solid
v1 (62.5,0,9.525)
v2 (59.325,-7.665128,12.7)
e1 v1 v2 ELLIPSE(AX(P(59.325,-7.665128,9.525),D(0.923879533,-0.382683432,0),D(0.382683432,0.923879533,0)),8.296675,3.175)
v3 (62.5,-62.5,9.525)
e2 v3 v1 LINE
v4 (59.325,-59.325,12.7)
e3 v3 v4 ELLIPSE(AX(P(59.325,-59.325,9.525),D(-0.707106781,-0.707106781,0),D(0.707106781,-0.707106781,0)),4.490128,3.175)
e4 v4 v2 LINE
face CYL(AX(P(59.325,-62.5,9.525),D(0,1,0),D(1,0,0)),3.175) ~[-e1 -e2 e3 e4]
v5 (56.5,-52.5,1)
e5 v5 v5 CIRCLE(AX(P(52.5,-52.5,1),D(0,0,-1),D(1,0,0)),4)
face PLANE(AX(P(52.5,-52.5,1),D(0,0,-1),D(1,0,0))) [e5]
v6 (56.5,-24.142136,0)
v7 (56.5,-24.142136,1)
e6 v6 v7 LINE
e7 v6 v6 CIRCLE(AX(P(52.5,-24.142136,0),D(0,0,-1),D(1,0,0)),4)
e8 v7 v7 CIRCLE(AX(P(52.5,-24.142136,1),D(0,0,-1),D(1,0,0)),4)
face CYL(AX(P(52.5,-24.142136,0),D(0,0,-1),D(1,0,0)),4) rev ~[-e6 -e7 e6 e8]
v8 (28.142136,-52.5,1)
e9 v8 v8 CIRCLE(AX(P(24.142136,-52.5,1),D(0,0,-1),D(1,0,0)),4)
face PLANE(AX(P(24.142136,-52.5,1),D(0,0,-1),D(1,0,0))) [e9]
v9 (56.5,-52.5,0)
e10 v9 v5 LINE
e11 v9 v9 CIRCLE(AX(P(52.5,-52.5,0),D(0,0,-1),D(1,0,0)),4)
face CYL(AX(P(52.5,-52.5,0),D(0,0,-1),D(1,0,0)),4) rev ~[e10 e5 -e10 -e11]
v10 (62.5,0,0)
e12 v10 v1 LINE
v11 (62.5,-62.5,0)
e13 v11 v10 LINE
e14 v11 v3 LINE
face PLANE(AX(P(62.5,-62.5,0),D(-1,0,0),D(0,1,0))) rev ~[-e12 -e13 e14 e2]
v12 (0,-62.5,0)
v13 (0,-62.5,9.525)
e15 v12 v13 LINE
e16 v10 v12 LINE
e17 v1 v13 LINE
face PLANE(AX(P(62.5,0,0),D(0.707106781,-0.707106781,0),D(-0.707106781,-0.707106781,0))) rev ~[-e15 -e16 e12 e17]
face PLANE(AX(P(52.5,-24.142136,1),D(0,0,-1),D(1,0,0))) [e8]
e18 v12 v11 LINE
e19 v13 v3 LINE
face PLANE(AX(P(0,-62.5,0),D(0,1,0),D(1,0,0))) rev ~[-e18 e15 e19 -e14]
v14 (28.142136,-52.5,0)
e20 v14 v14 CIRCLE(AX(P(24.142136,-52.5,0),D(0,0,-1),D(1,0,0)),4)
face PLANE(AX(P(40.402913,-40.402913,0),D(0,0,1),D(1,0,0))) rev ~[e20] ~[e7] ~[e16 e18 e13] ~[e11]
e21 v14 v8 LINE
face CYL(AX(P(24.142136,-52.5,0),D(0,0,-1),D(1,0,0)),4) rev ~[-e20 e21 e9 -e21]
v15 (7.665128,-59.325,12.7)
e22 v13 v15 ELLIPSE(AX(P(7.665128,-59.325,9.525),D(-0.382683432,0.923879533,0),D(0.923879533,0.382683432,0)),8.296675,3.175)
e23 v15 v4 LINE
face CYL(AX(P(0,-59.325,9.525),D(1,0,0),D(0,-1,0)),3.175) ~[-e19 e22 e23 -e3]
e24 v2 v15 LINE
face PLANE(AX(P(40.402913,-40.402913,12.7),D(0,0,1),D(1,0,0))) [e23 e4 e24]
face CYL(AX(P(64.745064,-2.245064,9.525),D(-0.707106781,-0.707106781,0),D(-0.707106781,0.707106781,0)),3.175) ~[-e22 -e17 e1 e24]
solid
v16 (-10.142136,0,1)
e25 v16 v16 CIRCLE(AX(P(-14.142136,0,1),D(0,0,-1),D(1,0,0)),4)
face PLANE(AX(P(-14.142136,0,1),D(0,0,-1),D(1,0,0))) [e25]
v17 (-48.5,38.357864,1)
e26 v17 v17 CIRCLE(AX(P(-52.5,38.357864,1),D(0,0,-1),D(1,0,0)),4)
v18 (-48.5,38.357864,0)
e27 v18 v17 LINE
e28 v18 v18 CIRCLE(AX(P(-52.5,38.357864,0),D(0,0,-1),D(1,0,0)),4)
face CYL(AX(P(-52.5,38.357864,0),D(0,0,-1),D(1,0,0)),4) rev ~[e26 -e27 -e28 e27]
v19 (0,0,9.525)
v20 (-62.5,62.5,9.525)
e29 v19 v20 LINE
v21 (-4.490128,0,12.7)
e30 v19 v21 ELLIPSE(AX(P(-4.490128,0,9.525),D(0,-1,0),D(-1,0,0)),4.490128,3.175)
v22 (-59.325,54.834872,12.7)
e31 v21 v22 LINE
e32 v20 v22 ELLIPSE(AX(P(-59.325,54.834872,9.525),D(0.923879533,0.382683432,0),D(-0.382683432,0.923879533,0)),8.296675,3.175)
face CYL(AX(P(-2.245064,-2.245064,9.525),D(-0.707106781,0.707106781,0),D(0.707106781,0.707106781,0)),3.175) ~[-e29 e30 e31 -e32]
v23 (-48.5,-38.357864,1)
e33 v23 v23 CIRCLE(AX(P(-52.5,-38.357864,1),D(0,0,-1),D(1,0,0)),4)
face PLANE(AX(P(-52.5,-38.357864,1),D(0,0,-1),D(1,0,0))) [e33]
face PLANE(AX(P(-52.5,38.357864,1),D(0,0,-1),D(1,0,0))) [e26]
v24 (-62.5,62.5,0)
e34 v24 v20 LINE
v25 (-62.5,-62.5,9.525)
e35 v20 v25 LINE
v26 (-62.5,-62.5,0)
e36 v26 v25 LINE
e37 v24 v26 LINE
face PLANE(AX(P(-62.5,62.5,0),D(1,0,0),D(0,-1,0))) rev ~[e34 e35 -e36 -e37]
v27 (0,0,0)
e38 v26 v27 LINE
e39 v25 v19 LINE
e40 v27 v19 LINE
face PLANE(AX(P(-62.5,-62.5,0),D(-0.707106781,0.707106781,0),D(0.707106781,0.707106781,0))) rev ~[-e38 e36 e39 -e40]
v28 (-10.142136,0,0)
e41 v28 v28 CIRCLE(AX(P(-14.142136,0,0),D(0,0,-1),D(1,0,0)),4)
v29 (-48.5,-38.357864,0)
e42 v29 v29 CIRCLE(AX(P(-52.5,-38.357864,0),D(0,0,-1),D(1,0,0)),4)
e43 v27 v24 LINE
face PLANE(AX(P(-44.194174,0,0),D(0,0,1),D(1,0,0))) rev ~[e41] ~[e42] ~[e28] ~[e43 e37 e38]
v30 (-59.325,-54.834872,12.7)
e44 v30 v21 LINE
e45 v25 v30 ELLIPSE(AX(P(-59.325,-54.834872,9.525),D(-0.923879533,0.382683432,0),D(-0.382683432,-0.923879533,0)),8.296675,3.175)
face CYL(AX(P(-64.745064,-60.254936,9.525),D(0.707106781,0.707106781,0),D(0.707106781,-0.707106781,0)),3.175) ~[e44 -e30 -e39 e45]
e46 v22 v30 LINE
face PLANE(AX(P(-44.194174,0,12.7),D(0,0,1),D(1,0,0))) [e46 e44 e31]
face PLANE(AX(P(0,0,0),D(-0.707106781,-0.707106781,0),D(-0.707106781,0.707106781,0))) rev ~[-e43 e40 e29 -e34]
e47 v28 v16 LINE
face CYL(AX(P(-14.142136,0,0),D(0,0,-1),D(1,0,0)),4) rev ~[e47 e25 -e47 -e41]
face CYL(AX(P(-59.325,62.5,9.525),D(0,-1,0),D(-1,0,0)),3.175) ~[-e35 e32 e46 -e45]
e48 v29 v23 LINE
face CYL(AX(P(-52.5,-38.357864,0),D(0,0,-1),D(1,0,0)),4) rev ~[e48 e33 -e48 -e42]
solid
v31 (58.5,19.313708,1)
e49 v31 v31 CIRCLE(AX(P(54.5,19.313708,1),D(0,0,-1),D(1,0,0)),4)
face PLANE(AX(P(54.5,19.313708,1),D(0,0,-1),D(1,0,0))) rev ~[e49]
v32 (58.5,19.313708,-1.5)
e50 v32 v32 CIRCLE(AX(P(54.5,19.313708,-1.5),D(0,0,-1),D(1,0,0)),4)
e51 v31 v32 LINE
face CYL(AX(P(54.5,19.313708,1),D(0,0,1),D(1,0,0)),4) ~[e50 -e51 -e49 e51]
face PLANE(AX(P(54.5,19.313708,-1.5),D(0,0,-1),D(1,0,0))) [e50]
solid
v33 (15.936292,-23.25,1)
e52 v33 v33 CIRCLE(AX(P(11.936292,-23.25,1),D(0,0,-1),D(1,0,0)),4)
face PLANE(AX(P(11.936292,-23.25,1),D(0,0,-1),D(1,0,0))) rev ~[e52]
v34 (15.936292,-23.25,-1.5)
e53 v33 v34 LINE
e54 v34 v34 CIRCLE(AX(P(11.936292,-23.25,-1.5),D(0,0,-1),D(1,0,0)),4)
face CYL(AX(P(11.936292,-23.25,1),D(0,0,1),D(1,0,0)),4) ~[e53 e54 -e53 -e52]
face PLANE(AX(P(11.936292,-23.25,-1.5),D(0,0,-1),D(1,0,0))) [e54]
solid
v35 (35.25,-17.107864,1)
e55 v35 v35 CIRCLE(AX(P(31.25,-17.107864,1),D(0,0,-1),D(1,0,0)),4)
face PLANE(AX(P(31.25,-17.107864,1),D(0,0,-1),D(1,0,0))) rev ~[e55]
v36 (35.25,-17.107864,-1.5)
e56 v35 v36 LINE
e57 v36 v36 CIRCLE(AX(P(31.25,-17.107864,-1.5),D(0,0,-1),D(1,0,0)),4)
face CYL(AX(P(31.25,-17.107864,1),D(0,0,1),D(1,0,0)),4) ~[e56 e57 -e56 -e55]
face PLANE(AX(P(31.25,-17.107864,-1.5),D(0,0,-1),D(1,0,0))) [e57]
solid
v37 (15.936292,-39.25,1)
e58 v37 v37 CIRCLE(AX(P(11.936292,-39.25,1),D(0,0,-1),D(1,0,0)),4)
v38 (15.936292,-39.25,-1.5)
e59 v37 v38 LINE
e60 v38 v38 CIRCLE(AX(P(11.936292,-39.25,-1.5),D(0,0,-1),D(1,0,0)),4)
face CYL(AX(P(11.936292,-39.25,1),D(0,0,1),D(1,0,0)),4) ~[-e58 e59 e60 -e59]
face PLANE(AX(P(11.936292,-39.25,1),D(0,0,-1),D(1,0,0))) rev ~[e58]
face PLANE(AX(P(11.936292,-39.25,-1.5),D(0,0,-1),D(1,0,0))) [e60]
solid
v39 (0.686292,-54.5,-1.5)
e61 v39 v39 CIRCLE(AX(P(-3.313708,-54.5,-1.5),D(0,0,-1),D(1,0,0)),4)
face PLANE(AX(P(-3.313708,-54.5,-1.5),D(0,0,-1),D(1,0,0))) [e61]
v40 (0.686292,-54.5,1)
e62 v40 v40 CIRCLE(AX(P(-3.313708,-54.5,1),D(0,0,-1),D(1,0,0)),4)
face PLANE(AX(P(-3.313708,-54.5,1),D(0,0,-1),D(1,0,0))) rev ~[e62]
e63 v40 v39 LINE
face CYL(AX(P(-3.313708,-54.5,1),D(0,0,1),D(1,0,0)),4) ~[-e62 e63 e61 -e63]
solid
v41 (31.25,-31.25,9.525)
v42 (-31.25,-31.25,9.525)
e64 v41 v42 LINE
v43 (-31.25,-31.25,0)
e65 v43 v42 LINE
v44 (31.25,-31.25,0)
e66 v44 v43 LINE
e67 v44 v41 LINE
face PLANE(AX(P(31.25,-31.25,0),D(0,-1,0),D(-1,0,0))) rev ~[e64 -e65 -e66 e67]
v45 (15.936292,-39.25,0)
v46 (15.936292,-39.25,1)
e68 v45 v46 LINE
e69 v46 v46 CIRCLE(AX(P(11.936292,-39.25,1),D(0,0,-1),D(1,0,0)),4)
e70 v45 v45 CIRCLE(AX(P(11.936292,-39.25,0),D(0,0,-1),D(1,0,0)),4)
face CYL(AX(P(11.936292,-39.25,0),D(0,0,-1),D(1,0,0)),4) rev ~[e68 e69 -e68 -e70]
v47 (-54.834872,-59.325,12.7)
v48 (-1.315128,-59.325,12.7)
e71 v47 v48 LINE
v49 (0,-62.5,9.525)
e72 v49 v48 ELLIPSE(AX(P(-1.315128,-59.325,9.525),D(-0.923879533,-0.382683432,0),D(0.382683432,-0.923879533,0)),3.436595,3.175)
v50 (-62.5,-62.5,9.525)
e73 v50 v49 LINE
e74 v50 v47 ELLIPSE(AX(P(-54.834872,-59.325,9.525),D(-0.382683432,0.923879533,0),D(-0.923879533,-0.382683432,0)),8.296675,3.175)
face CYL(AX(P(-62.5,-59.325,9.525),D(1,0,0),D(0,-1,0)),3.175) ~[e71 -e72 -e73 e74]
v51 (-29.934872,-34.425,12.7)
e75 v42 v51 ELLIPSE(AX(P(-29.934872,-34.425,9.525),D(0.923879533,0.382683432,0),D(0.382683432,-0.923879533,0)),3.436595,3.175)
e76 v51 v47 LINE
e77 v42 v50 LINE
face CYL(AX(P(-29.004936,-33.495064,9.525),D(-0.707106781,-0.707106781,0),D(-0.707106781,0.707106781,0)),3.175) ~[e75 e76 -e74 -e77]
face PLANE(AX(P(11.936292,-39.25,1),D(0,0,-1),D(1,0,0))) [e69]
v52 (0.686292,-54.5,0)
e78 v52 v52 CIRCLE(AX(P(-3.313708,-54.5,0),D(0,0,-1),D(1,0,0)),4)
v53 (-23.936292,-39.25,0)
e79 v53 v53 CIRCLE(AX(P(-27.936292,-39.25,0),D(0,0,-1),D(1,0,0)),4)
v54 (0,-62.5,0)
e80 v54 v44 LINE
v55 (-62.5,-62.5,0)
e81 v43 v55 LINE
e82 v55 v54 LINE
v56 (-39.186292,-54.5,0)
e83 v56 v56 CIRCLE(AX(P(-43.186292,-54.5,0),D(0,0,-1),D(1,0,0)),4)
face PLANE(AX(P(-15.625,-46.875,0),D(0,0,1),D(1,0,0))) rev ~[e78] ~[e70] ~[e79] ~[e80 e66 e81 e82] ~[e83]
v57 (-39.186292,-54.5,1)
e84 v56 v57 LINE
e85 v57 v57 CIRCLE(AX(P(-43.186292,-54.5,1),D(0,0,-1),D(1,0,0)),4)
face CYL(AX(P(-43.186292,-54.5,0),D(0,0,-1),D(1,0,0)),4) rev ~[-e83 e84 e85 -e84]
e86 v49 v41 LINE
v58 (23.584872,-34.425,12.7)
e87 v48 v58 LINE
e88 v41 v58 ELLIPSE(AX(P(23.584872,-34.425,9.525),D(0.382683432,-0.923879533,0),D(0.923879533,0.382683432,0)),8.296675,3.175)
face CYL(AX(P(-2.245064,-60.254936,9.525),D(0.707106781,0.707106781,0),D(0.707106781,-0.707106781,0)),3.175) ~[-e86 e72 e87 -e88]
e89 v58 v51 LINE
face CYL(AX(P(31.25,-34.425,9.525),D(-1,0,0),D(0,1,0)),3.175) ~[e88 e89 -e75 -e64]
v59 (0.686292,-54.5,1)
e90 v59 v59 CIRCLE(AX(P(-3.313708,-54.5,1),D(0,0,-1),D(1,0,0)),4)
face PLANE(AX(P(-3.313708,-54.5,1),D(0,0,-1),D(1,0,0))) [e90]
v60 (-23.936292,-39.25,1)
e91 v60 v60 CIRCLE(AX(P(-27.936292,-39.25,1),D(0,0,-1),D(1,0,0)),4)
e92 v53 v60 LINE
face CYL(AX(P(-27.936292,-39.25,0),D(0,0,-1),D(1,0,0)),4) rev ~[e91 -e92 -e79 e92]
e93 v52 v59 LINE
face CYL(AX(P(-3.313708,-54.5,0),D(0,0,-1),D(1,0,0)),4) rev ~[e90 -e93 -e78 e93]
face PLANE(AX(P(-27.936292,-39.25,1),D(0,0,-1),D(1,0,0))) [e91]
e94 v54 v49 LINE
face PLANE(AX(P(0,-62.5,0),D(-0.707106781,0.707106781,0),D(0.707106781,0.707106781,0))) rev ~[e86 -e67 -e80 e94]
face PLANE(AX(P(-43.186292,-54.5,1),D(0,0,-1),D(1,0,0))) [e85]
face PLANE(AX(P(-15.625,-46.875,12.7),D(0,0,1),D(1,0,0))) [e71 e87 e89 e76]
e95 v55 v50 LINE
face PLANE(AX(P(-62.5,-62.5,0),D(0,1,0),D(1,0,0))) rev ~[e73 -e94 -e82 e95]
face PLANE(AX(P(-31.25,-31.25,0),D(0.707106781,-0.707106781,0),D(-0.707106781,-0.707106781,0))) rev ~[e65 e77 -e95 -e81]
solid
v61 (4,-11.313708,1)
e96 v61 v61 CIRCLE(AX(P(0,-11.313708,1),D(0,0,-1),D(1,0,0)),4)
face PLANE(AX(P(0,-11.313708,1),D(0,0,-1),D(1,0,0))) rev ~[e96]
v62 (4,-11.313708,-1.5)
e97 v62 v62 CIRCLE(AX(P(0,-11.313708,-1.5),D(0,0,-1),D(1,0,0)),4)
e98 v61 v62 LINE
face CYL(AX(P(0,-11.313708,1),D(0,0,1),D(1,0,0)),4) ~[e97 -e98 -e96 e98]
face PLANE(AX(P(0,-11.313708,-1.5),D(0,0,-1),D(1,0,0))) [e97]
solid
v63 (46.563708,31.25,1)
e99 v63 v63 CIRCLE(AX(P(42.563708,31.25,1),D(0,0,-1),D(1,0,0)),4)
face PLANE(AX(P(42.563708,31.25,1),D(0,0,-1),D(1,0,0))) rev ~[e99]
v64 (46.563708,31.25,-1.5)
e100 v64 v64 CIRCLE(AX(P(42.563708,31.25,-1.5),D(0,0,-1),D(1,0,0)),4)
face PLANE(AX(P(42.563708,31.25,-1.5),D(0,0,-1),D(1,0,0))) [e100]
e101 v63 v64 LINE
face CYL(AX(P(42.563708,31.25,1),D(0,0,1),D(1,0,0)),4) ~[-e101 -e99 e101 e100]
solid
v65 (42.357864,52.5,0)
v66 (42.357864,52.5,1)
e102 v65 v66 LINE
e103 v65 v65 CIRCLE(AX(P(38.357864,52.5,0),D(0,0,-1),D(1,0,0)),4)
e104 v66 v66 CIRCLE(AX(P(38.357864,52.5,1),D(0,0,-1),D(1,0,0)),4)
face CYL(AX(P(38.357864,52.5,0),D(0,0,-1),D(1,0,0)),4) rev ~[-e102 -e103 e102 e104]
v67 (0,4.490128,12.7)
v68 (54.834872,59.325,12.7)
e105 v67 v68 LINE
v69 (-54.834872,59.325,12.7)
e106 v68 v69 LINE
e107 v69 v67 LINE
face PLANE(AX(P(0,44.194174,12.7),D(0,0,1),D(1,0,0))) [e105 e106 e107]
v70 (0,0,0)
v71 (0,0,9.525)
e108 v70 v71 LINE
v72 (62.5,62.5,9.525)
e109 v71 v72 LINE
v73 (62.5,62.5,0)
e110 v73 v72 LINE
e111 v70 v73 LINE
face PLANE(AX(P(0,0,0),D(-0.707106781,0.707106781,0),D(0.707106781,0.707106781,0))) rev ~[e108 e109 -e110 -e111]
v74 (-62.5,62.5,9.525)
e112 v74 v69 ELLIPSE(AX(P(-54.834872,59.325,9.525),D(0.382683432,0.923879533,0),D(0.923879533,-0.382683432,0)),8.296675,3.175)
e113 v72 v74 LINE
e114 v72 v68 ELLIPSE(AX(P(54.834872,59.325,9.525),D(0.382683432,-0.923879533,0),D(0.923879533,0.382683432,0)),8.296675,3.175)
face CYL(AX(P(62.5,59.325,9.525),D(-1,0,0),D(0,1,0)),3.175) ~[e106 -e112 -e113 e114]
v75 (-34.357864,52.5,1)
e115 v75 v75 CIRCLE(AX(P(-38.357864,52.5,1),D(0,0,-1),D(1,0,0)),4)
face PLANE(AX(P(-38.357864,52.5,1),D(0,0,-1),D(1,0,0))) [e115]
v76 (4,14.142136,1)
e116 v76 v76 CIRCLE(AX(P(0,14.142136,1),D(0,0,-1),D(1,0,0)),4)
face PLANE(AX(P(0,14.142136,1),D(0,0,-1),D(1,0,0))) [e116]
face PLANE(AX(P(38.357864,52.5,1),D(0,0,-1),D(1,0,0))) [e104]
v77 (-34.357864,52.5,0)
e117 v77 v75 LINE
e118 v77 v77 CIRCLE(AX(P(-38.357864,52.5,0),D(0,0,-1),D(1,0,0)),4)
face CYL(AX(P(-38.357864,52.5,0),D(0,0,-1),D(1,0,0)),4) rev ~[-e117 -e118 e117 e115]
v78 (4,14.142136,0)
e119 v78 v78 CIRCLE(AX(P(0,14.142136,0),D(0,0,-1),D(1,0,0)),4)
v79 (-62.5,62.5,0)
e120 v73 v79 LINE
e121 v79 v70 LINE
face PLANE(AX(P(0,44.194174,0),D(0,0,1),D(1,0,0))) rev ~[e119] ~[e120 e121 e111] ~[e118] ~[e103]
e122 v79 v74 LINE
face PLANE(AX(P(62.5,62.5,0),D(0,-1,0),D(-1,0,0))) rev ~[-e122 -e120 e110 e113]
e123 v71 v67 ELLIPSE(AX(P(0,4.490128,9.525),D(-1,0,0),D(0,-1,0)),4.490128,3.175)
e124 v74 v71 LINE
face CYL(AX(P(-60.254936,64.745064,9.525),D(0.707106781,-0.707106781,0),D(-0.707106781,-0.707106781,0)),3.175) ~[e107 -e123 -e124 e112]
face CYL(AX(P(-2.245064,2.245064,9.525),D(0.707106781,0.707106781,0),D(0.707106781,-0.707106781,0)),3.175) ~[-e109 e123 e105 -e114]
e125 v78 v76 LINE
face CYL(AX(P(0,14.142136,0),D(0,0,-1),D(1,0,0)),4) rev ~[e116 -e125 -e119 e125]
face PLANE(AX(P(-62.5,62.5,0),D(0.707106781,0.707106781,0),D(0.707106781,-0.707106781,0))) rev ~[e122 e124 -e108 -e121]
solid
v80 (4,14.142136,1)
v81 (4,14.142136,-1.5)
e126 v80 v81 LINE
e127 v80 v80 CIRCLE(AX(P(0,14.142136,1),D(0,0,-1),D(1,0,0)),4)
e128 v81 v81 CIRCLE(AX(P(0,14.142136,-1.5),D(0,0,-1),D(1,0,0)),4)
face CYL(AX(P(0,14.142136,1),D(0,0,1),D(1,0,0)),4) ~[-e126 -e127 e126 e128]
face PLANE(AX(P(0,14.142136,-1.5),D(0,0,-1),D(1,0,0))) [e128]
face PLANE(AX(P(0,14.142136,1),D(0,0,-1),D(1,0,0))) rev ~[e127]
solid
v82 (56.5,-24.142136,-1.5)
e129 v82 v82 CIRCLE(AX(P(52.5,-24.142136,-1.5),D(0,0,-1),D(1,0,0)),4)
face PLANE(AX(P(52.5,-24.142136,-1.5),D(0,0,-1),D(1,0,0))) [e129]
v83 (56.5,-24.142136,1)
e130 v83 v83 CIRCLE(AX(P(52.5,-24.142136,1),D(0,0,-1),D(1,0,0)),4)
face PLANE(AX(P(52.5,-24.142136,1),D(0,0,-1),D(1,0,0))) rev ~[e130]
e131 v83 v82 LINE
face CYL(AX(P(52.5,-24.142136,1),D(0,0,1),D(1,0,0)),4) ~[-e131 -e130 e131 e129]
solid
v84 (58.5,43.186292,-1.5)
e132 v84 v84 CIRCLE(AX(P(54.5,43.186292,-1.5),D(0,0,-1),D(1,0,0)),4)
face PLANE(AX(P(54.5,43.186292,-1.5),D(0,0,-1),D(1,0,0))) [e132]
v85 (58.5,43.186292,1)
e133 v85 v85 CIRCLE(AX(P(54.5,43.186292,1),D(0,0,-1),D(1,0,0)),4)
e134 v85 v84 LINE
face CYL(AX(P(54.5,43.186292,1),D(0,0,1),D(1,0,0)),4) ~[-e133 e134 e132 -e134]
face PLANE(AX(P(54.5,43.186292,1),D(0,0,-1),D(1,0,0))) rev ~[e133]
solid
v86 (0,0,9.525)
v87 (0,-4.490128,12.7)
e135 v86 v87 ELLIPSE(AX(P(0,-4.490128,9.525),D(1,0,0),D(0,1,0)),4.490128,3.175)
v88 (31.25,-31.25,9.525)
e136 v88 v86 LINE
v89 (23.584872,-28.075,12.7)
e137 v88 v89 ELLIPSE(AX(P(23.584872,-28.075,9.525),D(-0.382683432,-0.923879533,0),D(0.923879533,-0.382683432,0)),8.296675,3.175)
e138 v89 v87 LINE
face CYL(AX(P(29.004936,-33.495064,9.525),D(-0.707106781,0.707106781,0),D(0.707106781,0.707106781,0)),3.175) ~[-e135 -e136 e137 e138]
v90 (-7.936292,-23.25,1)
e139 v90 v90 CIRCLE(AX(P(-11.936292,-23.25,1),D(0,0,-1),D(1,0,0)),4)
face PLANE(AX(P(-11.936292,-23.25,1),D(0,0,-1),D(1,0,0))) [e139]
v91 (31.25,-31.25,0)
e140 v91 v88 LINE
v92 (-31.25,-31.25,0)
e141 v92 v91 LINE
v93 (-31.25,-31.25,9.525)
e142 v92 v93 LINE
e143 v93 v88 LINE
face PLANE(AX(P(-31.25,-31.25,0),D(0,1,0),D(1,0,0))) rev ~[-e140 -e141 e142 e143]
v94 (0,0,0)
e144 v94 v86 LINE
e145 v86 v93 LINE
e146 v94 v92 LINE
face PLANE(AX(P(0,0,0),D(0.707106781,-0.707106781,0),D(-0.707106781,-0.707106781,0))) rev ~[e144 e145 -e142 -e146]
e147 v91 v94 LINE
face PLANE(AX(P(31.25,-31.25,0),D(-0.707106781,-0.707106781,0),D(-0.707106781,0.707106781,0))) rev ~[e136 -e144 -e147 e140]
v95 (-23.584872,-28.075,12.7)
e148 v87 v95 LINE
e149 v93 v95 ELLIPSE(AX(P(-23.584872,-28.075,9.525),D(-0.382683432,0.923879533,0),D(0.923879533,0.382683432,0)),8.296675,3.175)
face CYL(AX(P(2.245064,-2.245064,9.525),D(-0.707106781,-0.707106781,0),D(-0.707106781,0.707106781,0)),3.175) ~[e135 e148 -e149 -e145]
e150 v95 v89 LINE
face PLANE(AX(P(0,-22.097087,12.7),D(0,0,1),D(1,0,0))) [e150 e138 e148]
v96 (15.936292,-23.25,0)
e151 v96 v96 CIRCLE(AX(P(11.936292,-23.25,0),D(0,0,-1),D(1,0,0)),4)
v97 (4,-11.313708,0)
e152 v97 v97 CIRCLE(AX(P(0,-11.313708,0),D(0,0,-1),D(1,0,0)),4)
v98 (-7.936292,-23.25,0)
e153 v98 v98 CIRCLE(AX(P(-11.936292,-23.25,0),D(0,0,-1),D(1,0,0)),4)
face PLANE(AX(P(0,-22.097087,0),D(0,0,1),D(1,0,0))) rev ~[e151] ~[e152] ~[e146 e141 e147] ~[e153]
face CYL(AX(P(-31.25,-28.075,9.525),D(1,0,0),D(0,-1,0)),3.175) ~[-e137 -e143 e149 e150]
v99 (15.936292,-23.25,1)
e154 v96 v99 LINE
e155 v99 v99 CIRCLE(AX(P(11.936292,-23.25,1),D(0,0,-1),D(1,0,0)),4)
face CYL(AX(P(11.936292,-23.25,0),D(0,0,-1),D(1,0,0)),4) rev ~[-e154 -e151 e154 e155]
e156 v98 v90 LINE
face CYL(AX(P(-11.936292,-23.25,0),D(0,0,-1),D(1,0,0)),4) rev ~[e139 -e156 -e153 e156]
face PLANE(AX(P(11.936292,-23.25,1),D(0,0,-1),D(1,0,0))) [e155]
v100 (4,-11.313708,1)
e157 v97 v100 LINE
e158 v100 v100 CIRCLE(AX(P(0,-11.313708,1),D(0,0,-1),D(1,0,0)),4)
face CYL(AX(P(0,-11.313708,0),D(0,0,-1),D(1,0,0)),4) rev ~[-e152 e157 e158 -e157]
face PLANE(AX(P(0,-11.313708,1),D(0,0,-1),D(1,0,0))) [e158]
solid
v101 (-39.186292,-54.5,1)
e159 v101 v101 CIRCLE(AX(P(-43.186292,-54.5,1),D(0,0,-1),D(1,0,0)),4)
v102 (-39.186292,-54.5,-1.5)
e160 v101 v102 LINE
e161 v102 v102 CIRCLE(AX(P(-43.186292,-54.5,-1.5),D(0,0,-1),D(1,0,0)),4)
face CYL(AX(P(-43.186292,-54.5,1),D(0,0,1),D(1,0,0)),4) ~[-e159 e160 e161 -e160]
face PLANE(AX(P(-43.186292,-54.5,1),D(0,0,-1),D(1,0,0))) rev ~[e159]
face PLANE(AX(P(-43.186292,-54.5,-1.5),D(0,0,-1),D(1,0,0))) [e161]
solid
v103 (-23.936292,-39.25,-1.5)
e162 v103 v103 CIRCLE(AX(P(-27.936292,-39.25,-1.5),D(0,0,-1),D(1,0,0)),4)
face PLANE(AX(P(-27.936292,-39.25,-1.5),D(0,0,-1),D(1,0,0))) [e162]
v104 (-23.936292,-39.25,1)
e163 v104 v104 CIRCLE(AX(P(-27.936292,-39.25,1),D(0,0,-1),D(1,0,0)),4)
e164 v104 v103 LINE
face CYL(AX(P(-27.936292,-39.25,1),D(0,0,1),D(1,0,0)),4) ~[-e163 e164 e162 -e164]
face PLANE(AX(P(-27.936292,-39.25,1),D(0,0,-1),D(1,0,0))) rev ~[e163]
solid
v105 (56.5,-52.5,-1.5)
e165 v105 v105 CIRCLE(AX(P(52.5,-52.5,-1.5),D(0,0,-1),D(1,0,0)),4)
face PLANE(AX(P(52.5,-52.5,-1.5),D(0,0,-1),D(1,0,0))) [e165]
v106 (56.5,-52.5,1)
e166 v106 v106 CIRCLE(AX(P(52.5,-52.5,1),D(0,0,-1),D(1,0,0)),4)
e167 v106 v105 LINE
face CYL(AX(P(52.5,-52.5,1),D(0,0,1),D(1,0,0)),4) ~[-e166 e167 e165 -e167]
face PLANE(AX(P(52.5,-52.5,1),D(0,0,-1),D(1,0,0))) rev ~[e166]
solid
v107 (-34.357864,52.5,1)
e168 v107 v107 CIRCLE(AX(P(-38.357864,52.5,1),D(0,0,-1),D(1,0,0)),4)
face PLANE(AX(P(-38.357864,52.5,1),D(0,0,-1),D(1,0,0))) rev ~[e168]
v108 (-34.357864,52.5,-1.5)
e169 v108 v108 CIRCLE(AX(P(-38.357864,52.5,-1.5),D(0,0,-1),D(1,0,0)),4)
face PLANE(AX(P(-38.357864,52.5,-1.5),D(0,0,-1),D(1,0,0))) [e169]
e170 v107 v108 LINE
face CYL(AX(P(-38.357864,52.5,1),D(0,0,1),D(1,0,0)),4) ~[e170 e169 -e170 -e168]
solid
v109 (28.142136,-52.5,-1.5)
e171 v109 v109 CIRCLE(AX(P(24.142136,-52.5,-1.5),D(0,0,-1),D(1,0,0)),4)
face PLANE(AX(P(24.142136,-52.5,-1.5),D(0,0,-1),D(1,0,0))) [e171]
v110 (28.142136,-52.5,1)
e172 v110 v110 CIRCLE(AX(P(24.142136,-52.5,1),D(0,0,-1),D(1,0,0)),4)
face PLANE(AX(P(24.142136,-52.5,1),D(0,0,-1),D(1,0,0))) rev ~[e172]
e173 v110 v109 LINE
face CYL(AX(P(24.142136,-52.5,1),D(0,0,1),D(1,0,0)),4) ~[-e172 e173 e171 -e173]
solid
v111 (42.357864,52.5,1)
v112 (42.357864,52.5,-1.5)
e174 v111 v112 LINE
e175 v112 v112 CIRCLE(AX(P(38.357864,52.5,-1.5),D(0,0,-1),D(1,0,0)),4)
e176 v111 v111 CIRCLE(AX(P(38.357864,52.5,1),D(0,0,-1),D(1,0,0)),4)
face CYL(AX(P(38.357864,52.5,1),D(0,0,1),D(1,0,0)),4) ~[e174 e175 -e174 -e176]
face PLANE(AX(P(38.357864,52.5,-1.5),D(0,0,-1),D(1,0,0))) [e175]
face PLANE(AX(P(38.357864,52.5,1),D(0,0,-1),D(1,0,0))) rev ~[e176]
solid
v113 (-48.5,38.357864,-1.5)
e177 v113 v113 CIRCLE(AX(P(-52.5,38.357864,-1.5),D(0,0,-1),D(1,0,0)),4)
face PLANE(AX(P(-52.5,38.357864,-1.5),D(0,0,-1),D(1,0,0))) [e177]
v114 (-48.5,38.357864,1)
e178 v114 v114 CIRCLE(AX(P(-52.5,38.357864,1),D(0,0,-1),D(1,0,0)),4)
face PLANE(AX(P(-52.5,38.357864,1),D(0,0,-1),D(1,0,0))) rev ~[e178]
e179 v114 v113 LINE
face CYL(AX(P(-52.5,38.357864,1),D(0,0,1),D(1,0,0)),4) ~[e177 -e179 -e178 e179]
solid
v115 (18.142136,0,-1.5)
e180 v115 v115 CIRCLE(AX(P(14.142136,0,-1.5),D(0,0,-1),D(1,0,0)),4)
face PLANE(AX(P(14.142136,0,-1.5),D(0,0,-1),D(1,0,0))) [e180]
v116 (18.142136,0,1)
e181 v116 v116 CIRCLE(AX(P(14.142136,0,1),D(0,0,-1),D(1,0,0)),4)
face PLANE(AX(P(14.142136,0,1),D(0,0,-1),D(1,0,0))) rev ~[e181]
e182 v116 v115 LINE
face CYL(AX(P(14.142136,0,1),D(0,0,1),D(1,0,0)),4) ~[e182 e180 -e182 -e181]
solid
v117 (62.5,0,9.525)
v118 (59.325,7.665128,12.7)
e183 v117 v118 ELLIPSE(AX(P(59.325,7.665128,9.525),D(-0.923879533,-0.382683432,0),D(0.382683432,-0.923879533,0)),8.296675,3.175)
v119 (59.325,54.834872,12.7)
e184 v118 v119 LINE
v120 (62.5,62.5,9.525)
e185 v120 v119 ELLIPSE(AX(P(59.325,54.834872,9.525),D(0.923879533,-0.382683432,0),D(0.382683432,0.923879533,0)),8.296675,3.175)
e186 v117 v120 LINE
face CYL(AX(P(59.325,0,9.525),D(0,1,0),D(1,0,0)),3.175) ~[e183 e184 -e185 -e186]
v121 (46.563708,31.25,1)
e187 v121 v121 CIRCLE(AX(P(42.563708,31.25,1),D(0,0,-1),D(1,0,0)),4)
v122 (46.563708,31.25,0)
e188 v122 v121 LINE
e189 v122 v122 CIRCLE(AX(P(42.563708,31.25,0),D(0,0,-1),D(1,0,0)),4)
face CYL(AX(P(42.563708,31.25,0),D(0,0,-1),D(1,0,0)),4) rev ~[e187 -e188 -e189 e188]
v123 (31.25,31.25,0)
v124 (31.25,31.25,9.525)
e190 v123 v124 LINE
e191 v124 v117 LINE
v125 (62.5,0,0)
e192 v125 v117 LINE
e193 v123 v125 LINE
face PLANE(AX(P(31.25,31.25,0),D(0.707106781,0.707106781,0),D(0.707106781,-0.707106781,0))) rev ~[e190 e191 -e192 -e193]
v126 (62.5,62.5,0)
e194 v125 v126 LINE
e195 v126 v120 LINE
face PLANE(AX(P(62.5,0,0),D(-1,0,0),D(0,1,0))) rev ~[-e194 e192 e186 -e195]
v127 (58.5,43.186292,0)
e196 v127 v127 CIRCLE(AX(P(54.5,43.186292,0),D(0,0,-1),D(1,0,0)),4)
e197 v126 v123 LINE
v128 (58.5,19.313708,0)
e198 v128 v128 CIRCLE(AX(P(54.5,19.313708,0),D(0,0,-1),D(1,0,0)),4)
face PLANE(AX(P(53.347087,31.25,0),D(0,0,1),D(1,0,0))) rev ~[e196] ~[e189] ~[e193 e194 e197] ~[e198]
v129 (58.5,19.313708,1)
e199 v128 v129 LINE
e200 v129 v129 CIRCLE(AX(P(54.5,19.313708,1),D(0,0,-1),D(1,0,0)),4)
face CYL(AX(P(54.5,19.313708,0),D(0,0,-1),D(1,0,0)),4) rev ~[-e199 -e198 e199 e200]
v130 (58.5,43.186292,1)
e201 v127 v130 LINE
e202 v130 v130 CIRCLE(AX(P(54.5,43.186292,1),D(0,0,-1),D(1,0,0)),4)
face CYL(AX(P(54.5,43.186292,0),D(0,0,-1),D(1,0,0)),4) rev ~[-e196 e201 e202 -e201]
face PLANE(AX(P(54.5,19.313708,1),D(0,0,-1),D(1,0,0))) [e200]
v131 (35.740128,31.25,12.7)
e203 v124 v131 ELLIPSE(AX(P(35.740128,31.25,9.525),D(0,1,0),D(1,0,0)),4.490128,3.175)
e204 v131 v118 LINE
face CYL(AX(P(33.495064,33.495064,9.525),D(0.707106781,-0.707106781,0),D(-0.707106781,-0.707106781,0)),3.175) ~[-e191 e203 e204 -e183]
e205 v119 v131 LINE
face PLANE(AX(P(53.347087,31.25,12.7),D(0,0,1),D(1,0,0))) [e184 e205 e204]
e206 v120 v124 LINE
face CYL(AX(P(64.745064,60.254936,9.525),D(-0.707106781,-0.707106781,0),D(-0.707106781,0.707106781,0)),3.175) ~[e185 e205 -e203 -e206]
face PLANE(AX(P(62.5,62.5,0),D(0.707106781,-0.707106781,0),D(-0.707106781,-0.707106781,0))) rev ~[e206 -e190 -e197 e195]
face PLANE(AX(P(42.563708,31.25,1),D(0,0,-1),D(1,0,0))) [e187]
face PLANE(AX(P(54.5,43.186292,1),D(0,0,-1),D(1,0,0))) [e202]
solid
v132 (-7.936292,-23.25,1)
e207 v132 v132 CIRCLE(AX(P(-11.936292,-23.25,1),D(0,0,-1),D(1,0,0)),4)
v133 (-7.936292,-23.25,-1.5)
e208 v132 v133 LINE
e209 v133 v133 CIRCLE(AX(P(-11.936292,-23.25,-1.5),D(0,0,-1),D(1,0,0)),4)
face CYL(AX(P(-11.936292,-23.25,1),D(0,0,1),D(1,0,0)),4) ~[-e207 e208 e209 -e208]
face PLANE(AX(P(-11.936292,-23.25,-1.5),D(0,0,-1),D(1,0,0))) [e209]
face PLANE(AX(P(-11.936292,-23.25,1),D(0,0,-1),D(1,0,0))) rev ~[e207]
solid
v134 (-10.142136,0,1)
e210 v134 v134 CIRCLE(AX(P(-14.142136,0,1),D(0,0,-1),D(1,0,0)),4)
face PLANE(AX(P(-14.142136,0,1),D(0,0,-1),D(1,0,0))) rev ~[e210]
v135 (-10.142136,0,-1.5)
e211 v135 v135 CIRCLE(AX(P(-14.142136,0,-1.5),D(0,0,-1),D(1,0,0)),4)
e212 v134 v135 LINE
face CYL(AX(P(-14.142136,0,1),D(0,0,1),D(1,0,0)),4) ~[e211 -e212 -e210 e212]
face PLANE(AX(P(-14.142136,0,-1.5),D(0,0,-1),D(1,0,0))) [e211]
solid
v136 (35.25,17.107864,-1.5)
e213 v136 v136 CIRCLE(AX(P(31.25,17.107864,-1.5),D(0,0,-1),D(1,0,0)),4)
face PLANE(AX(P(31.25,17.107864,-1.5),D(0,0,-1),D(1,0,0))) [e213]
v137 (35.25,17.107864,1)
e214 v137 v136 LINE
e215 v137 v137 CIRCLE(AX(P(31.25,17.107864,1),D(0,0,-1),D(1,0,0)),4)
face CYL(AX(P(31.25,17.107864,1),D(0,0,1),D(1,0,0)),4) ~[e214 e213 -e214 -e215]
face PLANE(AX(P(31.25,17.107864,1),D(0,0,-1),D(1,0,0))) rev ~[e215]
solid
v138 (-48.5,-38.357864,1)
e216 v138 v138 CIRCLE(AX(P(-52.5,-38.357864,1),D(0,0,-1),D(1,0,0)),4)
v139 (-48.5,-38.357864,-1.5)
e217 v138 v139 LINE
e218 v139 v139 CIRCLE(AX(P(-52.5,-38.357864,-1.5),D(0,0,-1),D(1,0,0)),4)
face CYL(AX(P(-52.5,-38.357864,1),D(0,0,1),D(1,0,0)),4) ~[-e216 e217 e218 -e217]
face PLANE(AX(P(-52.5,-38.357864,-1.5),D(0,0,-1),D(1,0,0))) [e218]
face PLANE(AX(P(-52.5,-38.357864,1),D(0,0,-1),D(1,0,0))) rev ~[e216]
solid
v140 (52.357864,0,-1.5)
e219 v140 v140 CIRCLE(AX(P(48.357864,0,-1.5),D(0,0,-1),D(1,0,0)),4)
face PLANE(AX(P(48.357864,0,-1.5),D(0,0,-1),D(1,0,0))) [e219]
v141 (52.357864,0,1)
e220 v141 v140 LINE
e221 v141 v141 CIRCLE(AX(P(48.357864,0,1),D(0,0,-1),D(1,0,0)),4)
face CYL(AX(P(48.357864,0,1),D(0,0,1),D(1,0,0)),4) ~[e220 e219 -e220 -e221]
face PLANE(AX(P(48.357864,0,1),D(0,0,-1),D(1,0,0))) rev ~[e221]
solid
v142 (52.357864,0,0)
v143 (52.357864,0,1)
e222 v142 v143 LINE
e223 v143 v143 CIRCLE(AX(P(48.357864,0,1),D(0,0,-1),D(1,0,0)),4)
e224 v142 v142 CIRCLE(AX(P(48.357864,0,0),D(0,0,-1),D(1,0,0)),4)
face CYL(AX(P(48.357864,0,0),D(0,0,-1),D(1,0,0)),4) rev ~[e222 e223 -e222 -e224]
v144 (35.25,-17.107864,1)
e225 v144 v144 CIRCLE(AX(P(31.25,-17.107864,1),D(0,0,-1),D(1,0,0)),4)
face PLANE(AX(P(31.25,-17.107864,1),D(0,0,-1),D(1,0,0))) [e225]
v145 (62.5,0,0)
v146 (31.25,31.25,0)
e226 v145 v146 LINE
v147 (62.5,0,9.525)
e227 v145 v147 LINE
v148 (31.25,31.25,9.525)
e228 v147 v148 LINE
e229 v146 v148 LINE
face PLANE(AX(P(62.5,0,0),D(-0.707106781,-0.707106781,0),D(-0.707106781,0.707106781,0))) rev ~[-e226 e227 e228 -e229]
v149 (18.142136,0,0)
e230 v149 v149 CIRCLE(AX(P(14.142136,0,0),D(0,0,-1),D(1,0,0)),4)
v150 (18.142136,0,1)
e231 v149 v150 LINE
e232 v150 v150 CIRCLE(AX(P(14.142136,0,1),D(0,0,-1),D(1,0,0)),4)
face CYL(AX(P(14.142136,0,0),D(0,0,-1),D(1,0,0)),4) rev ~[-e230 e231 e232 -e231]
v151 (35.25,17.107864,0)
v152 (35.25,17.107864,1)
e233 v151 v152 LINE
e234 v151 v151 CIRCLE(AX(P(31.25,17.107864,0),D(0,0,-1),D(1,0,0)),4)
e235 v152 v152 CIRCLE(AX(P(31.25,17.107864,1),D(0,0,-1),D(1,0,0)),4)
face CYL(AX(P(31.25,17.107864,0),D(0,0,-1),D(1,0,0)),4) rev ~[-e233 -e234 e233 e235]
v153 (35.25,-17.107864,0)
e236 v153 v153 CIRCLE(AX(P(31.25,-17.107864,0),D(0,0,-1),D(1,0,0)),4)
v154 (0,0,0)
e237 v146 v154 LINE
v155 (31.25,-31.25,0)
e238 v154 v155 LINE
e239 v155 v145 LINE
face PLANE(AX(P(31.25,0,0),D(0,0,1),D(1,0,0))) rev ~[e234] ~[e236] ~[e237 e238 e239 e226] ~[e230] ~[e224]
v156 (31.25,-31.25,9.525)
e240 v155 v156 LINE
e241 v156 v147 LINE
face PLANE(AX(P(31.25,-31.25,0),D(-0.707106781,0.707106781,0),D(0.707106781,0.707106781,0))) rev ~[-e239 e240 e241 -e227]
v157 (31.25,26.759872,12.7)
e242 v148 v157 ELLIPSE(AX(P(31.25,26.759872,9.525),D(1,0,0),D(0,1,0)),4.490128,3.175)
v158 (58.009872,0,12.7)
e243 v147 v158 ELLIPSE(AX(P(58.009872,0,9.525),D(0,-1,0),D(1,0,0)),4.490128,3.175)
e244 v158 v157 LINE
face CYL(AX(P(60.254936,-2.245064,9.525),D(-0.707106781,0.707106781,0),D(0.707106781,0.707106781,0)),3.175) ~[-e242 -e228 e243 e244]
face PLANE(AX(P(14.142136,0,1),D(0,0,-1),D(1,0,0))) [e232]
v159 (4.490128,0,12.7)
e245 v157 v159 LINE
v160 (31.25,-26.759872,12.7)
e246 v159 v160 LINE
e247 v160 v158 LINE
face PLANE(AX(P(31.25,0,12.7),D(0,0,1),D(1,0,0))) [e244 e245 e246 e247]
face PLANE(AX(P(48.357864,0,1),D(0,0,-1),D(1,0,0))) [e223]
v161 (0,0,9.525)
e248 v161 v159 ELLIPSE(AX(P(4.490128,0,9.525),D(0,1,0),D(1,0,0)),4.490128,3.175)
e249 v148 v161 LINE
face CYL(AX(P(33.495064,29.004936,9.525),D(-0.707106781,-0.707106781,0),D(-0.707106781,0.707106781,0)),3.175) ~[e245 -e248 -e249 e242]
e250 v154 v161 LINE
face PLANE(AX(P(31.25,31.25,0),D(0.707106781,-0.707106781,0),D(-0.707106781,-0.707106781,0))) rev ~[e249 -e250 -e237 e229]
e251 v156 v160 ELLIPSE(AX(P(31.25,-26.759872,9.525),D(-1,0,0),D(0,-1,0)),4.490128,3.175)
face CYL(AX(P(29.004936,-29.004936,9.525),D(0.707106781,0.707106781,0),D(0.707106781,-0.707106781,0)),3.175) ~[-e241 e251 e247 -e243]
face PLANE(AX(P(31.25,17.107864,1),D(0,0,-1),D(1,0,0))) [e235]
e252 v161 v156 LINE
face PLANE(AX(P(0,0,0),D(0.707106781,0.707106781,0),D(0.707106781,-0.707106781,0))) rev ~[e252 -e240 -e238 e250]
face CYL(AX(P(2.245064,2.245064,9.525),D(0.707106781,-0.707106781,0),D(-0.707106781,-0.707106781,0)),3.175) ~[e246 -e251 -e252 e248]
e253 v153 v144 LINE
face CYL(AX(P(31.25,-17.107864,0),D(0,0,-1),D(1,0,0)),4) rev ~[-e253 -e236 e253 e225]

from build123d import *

# Parameters (mm, degrees)
F1_DEPTH  = 12.7
F2_DEPTH  = 12.7
F3_DEPTH  = 12.7
F4_DEPTH  = 12.7
F5_DEPTH  = 12.7
F6_DEPTH  = 12.7
F7_DEPTH  = 12.7
F8_R      = 3.175
F8_2_R    = 3.175
F8_3_R    = 3.175
F8_4_R    = 3.175
F8_5_R    = 3.175
F8_6_R    = 3.175
F8_7_R    = 3.175
F12_R     = 4
F16_DEPTH = 1
F9_R      = 4
F17_DEPTH = 1
F15_R     = 4
F18_DEPTH = 1
F10_R     = 4
F19_DEPTH = 1
F11_R     = 4
F20_DEPTH = 1
F14_R     = 4
F21_DEPTH = 1
F13_R     = 4
F22_DEPTH = 1
F23_DEPTH = 2.5


with BuildPart() as f1:
    # F0 (on Top) → F1 (new body)
    with BuildSketch(Plane.XY):
        Polygon((-62.5, 62.5), (-62.5, -62.5), (-31.25, -31.25), (0, 0), align=None)
    extrude(amount=F1_DEPTH)

    # F8
    f8_edges = [f1.edges().sort_by_distance(p)[0] for p in [
        (-31.25, 31.25, 12.7),
        (-62.5, 0, 12.7),
        (-31.25, -31.25, 12.7),
    ]]
    fillet(f8_edges, radius=F8_R)

    # F12 (on face) → F16 (cut)
    with BuildSketch(Plane(origin=(0, 0, 0), x_dir=(1, 0, 0), z_dir=(0, 0, -1))):
        with Locations((-52.5, 38.3578643763)):
            Circle(F12_R)
        with Locations((-14.1421356237, 0)):
            Circle(F12_R)
        with Locations((-52.5, -38.3578643763)):
            Circle(F12_R)
    extrude(amount=-F16_DEPTH, mode=Mode.SUBTRACT)


with BuildPart() as f2:
    # F0 (on Top) → F2 (new body)
    with BuildSketch(Plane.XY):
        Polygon((31.25, 31.25), (62.5, 62.5), (-62.5, 62.5), (0, 0), align=None)
    extrude(amount=F2_DEPTH)

    # F8#2
    f8_2_edges = [f2.edges().sort_by_distance(p)[0] for p in [
        (-31.25, 31.25, 12.7),
        (31.25, 31.25, 12.7),
        (0, 62.5, 12.7),
    ]]
    fillet(f8_2_edges, radius=F8_2_R)

    # F9 (on face) → F17 (cut)
    with BuildSketch(Plane(origin=(0, 0, 0), x_dir=(1, 0, 0), z_dir=(0, 0, -1))):
        with Locations((0, -14.1421356237)):
            Circle(F9_R)
        with Locations((-38.3578643763, -52.5)):
            Circle(F9_R)
        with Locations((38.3578643763, -52.5)):
            Circle(F9_R)
    extrude(amount=-F17_DEPTH, mode=Mode.SUBTRACT)


with BuildPart() as f3:
    # F0 (on Top) → F3 (new body)
    with BuildSketch(Plane.XY):
        Polygon((-62.5, -62.5), (0, -62.5), (31.25, -31.25), (-31.25, -31.25), align=None)
    extrude(amount=F3_DEPTH)

    # F8#3
    f8_3_edges = [f3.edges().sort_by_distance(p)[0] for p in [
        (-46.875, -46.875, 12.7),
        (-31.25, -62.5, 12.7),
        (15.625, -46.875, 12.7),
        (0, -31.25, 12.7),
    ]]
    fillet(f8_3_edges, radius=F8_3_R)

    # F14 (on face) → F21 (cut)
    with BuildSketch(Plane(origin=(0, 0, 0), x_dir=(1, 0, 0), z_dir=(0, 0, -1))):
        with Locations((-27.936291501, 39.25)):
            Circle(F14_R)
        with Locations((-43.186291501, 54.5)):
            Circle(F14_R)
        with Locations((-3.313708499, 54.5)):
            Circle(F14_R)
        with Locations((11.936291501, 39.25)):
            Circle(F14_R)
    extrude(amount=-F21_DEPTH, mode=Mode.SUBTRACT)


with BuildPart() as f4:
    # F0 (on Top) → F4 (new body)
    with BuildSketch(Plane.XY):
        Polygon((-31.25, -31.25), (31.25, -31.25), (0, 0), align=None)
    extrude(amount=F4_DEPTH)

    # F8#4
    f8_4_edges = [f4.edges().sort_by_distance(p)[0] for p in [
        (0, -31.25, 12.7),
        (15.625, -15.625, 12.7),
        (-15.625, -15.625, 12.7),
    ]]
    fillet(f8_4_edges, radius=F8_4_R)

    # F11 (on face) → F20 (cut)
    with BuildSketch(Plane(origin=(0, 0, 0), x_dir=(1, 0, 0), z_dir=(0, 0, -1))):
        with Locations((-11.936291501, 23.25)):
            Circle(F11_R)
        with Locations((0, 11.313708499)):
            Circle(F11_R)
        with Locations((11.936291501, 23.25)):
            Circle(F11_R)
    extrude(amount=-F20_DEPTH, mode=Mode.SUBTRACT)


with BuildPart() as f5:
    # F0 (on Top) → F5 (new body)
    with BuildSketch(Plane.XY):
        Polygon((31.25, -31.25), (62.5, 0), (31.25, 31.25), (0, 0), align=None)
    extrude(amount=F5_DEPTH)

    # F8#5
    f8_5_edges = [f5.edges().sort_by_distance(p)[0] for p in [
        (15.625, -15.625, 12.7),
        (46.875, -15.625, 12.7),
        (46.875, 15.625, 12.7),
        (15.625, 15.625, 12.7),
    ]]
    fillet(f8_5_edges, radius=F8_5_R)

    # F10 (on face) → F19 (cut)
    with BuildSketch(Plane(origin=(0, 0, 0), x_dir=(1, 0, 0), z_dir=(0, 0, -1))):
        with Locations((14.1421356237, 0)):
            Circle(F10_R)
        with Locations((31.25, 17.1078643763)):
            Circle(F10_R)
        with Locations((48.3578643763, 0)):
            Circle(F10_R)
        with Locations((31.25, -17.1078643763)):
            Circle(F10_R)
    extrude(amount=-F19_DEPTH, mode=Mode.SUBTRACT)


with BuildPart() as f6:
    # F0 (on Top) → F6 (new body)
    with BuildSketch(Plane.XY):
        Polygon((0, -62.5), (62.5, -62.5), (62.5, 0), (31.25, -31.25), align=None)
    extrude(amount=F6_DEPTH)

    # F8#6
    f8_6_edges = [f6.edges().sort_by_distance(p)[0] for p in [
        (31.25, -62.5, 12.7),
        (62.5, -31.25, 12.7),
        (31.25, -31.25, 12.7),
    ]]
    fillet(f8_6_edges, radius=F8_6_R)

    # F13 (on face) → F22 (cut)
    with BuildSketch(Plane(origin=(0, 0, 0), x_dir=(1, 0, 0), z_dir=(0, 0, -1))):
        with Locations((24.1421356237, 52.5)):
            Circle(F13_R)
        with Locations((52.5, 52.5)):
            Circle(F13_R)
        with Locations((52.5, 24.1421356237)):
            Circle(F13_R)
    extrude(amount=-F22_DEPTH, mode=Mode.SUBTRACT)


with BuildPart() as f7:
    # F0 (on Top) → F7 (new body)
    with BuildSketch(Plane.XY):
        Polygon((31.25, 31.25), (62.5, 0), (62.5, 62.5), align=None)
    extrude(amount=F7_DEPTH)

    # F8#7
    f8_7_edges = [f7.edges().sort_by_distance(p)[0] for p in [
        (46.875, 15.625, 12.7),
        (62.5, 31.25, 12.7),
        (46.875, 46.875, 12.7),
    ]]
    fillet(f8_7_edges, radius=F8_7_R)

    # F15 (on face) → F18 (cut)
    with BuildSketch(Plane(origin=(0, 0, 0), x_dir=(1, 0, 0), z_dir=(0, 0, -1))):
        with Locations((42.563708499, -31.25)):
            Circle(F15_R)
        with Locations((54.5, -19.313708499)):
            Circle(F15_R)
        with Locations((54.5, -43.186291501)):
            Circle(F15_R)
    extrude(amount=-F18_DEPTH, mode=Mode.SUBTRACT)


with BuildPart() as f23:
    # F23 (new): a face of the model
    f23_faces = [f1.part.faces().sort_by_distance(p)[0] for p in [
        (-52.5, -38.3578643763, 1),
    ]]
    extrude(f23_faces, amount=F23_DEPTH)


with BuildPart() as f23b:
    # F23#2 (new): a face of the model
    f23_2_faces = [f1.part.faces().sort_by_distance(p)[0] for p in [
        (-14.1421356237, 0, 1),
    ]]
    extrude(f23_2_faces, amount=F23_DEPTH)


with BuildPart() as f23c:
    # F23#3 (new): a face of the model
    f23_3_faces = [f1.part.faces().sort_by_distance(p)[0] for p in [
        (-52.5, 38.3578643763, 1),
    ]]
    extrude(f23_3_faces, amount=F23_DEPTH)


with BuildPart() as f23d:
    # F23#4 (new): a face of the model
    f23_4_faces = [f2.part.faces().sort_by_distance(p)[0] for p in [
        (-38.3578643763, 52.5, 1),
    ]]
    extrude(f23_4_faces, amount=F23_DEPTH)


with BuildPart() as f23e:
    # F23#5 (new): a face of the model
    f23_5_faces = [f2.part.faces().sort_by_distance(p)[0] for p in [
        (0, 14.1421356237, 1),
    ]]
    extrude(f23_5_faces, amount=F23_DEPTH)


with BuildPart() as f23f:
    # F23#6 (new): a face of the model
    f23_6_faces = [f2.part.faces().sort_by_distance(p)[0] for p in [
        (38.3578643763, 52.5, 1),
    ]]
    extrude(f23_6_faces, amount=F23_DEPTH)


with BuildPart() as f23g:
    # F23#7 (new): a face of the model
    f23_7_faces = [f7.part.faces().sort_by_distance(p)[0] for p in [
        (54.5, 43.186291501, 1),
    ]]
    extrude(f23_7_faces, amount=F23_DEPTH)


with BuildPart() as f23h:
    # F23#8 (new): a face of the model
    f23_8_faces = [f7.part.faces().sort_by_distance(p)[0] for p in [
        (42.563708499, 31.25, 1),
    ]]
    extrude(f23_8_faces, amount=F23_DEPTH)


with BuildPart() as f23i:
    # F23#9 (new): a face of the model
    f23_9_faces = [f7.part.faces().sort_by_distance(p)[0] for p in [
        (54.5, 19.313708499, 1),
    ]]
    extrude(f23_9_faces, amount=F23_DEPTH)


with BuildPart() as f23j:
    # F23#10 (new): a face of the model
    f23_10_faces = [f5.part.faces().sort_by_distance(p)[0] for p in [
        (48.3578643763, 0, 1),
    ]]
    extrude(f23_10_faces, amount=F23_DEPTH)


with BuildPart() as f23k:
    # F23#11 (new): a face of the model
    f23_11_faces = [f5.part.faces().sort_by_distance(p)[0] for p in [
        (31.25, 17.1078643763, 1),
    ]]
    extrude(f23_11_faces, amount=F23_DEPTH)


with BuildPart() as f23l:
    # F23#12 (new): a face of the model
    f23_12_faces = [f5.part.faces().sort_by_distance(p)[0] for p in [
        (14.1421356237, 0, 1),
    ]]
    extrude(f23_12_faces, amount=F23_DEPTH)


with BuildPart() as f23m:
    # F23#13 (new): a face of the model
    f23_13_faces = [f5.part.faces().sort_by_distance(p)[0] for p in [
        (31.25, -17.1078643763, 1),
    ]]
    extrude(f23_13_faces, amount=F23_DEPTH)


with BuildPart() as f23n:
    # F23#14 (new): a face of the model
    f23_14_faces = [f6.part.faces().sort_by_distance(p)[0] for p in [
        (52.5, -24.1421356237, 1),
    ]]
    extrude(f23_14_faces, amount=F23_DEPTH)


with BuildPart() as f23o:
    # F23#15 (new): a face of the model
    f23_15_faces = [f6.part.faces().sort_by_distance(p)[0] for p in [
        (52.5, -52.5, 1),
    ]]
    extrude(f23_15_faces, amount=F23_DEPTH)


with BuildPart() as f23p:
    # F23#16 (new): a face of the model
    f23_16_faces = [f6.part.faces().sort_by_distance(p)[0] for p in [
        (24.1421356237, -52.5, 1),
    ]]
    extrude(f23_16_faces, amount=F23_DEPTH)


with BuildPart() as f23q:
    # F23#17 (new): a face of the model
    f23_17_faces = [f3.part.faces().sort_by_distance(p)[0] for p in [
        (11.936291501, -39.25, 1),
    ]]
    extrude(f23_17_faces, amount=F23_DEPTH)


with BuildPart() as f23r:
    # F23#18 (new): a face of the model
    f23_18_faces = [f3.part.faces().sort_by_distance(p)[0] for p in [
        (-3.313708499, -54.5, 1),
    ]]
    extrude(f23_18_faces, amount=F23_DEPTH)


with BuildPart() as f23s:
    # F23#19 (new): a face of the model
    f23_19_faces = [f4.part.faces().sort_by_distance(p)[0] for p in [
        (11.936291501, -23.25, 1),
    ]]
    extrude(f23_19_faces, amount=F23_DEPTH)


with BuildPart() as f23t:
    # F23#20 (new): a face of the model
    f23_20_faces = [f4.part.faces().sort_by_distance(p)[0] for p in [
        (0, -11.313708499, 1),
    ]]
    extrude(f23_20_faces, amount=F23_DEPTH)


with BuildPart() as f23u:
    # F23#21 (new): a face of the model
    f23_21_faces = [f4.part.faces().sort_by_distance(p)[0] for p in [
        (-11.936291501, -23.25, 1),
    ]]
    extrude(f23_21_faces, amount=F23_DEPTH)


with BuildPart() as f23v:
    # F23#22 (new): a face of the model
    f23_22_faces = [f3.part.faces().sort_by_distance(p)[0] for p in [
        (-27.936291501, -39.25, 1),
    ]]
    extrude(f23_22_faces, amount=F23_DEPTH)


with BuildPart() as f23w:
    # F23#23 (new): a face of the model
    f23_23_faces = [f3.part.faces().sort_by_distance(p)[0] for p in [
        (-43.186291501, -54.5, 1),
    ]]
    extrude(f23_23_faces, amount=F23_DEPTH)


solid = Compound([f1.part, f2.part, f3.part, f4.part, f5.part, f6.part, f7.part, f23.part, f23b.part, f23c.part, f23d.part, f23e.part, f23f.part, f23g.part, f23h.part, f23i.part, f23j.part, f23k.part, f23l.part, f23m.part, f23n.part, f23o.part, f23p.part, f23q.part, f23r.part, f23s.part, f23t.part, f23u.part, f23v.part, f23w.part])
